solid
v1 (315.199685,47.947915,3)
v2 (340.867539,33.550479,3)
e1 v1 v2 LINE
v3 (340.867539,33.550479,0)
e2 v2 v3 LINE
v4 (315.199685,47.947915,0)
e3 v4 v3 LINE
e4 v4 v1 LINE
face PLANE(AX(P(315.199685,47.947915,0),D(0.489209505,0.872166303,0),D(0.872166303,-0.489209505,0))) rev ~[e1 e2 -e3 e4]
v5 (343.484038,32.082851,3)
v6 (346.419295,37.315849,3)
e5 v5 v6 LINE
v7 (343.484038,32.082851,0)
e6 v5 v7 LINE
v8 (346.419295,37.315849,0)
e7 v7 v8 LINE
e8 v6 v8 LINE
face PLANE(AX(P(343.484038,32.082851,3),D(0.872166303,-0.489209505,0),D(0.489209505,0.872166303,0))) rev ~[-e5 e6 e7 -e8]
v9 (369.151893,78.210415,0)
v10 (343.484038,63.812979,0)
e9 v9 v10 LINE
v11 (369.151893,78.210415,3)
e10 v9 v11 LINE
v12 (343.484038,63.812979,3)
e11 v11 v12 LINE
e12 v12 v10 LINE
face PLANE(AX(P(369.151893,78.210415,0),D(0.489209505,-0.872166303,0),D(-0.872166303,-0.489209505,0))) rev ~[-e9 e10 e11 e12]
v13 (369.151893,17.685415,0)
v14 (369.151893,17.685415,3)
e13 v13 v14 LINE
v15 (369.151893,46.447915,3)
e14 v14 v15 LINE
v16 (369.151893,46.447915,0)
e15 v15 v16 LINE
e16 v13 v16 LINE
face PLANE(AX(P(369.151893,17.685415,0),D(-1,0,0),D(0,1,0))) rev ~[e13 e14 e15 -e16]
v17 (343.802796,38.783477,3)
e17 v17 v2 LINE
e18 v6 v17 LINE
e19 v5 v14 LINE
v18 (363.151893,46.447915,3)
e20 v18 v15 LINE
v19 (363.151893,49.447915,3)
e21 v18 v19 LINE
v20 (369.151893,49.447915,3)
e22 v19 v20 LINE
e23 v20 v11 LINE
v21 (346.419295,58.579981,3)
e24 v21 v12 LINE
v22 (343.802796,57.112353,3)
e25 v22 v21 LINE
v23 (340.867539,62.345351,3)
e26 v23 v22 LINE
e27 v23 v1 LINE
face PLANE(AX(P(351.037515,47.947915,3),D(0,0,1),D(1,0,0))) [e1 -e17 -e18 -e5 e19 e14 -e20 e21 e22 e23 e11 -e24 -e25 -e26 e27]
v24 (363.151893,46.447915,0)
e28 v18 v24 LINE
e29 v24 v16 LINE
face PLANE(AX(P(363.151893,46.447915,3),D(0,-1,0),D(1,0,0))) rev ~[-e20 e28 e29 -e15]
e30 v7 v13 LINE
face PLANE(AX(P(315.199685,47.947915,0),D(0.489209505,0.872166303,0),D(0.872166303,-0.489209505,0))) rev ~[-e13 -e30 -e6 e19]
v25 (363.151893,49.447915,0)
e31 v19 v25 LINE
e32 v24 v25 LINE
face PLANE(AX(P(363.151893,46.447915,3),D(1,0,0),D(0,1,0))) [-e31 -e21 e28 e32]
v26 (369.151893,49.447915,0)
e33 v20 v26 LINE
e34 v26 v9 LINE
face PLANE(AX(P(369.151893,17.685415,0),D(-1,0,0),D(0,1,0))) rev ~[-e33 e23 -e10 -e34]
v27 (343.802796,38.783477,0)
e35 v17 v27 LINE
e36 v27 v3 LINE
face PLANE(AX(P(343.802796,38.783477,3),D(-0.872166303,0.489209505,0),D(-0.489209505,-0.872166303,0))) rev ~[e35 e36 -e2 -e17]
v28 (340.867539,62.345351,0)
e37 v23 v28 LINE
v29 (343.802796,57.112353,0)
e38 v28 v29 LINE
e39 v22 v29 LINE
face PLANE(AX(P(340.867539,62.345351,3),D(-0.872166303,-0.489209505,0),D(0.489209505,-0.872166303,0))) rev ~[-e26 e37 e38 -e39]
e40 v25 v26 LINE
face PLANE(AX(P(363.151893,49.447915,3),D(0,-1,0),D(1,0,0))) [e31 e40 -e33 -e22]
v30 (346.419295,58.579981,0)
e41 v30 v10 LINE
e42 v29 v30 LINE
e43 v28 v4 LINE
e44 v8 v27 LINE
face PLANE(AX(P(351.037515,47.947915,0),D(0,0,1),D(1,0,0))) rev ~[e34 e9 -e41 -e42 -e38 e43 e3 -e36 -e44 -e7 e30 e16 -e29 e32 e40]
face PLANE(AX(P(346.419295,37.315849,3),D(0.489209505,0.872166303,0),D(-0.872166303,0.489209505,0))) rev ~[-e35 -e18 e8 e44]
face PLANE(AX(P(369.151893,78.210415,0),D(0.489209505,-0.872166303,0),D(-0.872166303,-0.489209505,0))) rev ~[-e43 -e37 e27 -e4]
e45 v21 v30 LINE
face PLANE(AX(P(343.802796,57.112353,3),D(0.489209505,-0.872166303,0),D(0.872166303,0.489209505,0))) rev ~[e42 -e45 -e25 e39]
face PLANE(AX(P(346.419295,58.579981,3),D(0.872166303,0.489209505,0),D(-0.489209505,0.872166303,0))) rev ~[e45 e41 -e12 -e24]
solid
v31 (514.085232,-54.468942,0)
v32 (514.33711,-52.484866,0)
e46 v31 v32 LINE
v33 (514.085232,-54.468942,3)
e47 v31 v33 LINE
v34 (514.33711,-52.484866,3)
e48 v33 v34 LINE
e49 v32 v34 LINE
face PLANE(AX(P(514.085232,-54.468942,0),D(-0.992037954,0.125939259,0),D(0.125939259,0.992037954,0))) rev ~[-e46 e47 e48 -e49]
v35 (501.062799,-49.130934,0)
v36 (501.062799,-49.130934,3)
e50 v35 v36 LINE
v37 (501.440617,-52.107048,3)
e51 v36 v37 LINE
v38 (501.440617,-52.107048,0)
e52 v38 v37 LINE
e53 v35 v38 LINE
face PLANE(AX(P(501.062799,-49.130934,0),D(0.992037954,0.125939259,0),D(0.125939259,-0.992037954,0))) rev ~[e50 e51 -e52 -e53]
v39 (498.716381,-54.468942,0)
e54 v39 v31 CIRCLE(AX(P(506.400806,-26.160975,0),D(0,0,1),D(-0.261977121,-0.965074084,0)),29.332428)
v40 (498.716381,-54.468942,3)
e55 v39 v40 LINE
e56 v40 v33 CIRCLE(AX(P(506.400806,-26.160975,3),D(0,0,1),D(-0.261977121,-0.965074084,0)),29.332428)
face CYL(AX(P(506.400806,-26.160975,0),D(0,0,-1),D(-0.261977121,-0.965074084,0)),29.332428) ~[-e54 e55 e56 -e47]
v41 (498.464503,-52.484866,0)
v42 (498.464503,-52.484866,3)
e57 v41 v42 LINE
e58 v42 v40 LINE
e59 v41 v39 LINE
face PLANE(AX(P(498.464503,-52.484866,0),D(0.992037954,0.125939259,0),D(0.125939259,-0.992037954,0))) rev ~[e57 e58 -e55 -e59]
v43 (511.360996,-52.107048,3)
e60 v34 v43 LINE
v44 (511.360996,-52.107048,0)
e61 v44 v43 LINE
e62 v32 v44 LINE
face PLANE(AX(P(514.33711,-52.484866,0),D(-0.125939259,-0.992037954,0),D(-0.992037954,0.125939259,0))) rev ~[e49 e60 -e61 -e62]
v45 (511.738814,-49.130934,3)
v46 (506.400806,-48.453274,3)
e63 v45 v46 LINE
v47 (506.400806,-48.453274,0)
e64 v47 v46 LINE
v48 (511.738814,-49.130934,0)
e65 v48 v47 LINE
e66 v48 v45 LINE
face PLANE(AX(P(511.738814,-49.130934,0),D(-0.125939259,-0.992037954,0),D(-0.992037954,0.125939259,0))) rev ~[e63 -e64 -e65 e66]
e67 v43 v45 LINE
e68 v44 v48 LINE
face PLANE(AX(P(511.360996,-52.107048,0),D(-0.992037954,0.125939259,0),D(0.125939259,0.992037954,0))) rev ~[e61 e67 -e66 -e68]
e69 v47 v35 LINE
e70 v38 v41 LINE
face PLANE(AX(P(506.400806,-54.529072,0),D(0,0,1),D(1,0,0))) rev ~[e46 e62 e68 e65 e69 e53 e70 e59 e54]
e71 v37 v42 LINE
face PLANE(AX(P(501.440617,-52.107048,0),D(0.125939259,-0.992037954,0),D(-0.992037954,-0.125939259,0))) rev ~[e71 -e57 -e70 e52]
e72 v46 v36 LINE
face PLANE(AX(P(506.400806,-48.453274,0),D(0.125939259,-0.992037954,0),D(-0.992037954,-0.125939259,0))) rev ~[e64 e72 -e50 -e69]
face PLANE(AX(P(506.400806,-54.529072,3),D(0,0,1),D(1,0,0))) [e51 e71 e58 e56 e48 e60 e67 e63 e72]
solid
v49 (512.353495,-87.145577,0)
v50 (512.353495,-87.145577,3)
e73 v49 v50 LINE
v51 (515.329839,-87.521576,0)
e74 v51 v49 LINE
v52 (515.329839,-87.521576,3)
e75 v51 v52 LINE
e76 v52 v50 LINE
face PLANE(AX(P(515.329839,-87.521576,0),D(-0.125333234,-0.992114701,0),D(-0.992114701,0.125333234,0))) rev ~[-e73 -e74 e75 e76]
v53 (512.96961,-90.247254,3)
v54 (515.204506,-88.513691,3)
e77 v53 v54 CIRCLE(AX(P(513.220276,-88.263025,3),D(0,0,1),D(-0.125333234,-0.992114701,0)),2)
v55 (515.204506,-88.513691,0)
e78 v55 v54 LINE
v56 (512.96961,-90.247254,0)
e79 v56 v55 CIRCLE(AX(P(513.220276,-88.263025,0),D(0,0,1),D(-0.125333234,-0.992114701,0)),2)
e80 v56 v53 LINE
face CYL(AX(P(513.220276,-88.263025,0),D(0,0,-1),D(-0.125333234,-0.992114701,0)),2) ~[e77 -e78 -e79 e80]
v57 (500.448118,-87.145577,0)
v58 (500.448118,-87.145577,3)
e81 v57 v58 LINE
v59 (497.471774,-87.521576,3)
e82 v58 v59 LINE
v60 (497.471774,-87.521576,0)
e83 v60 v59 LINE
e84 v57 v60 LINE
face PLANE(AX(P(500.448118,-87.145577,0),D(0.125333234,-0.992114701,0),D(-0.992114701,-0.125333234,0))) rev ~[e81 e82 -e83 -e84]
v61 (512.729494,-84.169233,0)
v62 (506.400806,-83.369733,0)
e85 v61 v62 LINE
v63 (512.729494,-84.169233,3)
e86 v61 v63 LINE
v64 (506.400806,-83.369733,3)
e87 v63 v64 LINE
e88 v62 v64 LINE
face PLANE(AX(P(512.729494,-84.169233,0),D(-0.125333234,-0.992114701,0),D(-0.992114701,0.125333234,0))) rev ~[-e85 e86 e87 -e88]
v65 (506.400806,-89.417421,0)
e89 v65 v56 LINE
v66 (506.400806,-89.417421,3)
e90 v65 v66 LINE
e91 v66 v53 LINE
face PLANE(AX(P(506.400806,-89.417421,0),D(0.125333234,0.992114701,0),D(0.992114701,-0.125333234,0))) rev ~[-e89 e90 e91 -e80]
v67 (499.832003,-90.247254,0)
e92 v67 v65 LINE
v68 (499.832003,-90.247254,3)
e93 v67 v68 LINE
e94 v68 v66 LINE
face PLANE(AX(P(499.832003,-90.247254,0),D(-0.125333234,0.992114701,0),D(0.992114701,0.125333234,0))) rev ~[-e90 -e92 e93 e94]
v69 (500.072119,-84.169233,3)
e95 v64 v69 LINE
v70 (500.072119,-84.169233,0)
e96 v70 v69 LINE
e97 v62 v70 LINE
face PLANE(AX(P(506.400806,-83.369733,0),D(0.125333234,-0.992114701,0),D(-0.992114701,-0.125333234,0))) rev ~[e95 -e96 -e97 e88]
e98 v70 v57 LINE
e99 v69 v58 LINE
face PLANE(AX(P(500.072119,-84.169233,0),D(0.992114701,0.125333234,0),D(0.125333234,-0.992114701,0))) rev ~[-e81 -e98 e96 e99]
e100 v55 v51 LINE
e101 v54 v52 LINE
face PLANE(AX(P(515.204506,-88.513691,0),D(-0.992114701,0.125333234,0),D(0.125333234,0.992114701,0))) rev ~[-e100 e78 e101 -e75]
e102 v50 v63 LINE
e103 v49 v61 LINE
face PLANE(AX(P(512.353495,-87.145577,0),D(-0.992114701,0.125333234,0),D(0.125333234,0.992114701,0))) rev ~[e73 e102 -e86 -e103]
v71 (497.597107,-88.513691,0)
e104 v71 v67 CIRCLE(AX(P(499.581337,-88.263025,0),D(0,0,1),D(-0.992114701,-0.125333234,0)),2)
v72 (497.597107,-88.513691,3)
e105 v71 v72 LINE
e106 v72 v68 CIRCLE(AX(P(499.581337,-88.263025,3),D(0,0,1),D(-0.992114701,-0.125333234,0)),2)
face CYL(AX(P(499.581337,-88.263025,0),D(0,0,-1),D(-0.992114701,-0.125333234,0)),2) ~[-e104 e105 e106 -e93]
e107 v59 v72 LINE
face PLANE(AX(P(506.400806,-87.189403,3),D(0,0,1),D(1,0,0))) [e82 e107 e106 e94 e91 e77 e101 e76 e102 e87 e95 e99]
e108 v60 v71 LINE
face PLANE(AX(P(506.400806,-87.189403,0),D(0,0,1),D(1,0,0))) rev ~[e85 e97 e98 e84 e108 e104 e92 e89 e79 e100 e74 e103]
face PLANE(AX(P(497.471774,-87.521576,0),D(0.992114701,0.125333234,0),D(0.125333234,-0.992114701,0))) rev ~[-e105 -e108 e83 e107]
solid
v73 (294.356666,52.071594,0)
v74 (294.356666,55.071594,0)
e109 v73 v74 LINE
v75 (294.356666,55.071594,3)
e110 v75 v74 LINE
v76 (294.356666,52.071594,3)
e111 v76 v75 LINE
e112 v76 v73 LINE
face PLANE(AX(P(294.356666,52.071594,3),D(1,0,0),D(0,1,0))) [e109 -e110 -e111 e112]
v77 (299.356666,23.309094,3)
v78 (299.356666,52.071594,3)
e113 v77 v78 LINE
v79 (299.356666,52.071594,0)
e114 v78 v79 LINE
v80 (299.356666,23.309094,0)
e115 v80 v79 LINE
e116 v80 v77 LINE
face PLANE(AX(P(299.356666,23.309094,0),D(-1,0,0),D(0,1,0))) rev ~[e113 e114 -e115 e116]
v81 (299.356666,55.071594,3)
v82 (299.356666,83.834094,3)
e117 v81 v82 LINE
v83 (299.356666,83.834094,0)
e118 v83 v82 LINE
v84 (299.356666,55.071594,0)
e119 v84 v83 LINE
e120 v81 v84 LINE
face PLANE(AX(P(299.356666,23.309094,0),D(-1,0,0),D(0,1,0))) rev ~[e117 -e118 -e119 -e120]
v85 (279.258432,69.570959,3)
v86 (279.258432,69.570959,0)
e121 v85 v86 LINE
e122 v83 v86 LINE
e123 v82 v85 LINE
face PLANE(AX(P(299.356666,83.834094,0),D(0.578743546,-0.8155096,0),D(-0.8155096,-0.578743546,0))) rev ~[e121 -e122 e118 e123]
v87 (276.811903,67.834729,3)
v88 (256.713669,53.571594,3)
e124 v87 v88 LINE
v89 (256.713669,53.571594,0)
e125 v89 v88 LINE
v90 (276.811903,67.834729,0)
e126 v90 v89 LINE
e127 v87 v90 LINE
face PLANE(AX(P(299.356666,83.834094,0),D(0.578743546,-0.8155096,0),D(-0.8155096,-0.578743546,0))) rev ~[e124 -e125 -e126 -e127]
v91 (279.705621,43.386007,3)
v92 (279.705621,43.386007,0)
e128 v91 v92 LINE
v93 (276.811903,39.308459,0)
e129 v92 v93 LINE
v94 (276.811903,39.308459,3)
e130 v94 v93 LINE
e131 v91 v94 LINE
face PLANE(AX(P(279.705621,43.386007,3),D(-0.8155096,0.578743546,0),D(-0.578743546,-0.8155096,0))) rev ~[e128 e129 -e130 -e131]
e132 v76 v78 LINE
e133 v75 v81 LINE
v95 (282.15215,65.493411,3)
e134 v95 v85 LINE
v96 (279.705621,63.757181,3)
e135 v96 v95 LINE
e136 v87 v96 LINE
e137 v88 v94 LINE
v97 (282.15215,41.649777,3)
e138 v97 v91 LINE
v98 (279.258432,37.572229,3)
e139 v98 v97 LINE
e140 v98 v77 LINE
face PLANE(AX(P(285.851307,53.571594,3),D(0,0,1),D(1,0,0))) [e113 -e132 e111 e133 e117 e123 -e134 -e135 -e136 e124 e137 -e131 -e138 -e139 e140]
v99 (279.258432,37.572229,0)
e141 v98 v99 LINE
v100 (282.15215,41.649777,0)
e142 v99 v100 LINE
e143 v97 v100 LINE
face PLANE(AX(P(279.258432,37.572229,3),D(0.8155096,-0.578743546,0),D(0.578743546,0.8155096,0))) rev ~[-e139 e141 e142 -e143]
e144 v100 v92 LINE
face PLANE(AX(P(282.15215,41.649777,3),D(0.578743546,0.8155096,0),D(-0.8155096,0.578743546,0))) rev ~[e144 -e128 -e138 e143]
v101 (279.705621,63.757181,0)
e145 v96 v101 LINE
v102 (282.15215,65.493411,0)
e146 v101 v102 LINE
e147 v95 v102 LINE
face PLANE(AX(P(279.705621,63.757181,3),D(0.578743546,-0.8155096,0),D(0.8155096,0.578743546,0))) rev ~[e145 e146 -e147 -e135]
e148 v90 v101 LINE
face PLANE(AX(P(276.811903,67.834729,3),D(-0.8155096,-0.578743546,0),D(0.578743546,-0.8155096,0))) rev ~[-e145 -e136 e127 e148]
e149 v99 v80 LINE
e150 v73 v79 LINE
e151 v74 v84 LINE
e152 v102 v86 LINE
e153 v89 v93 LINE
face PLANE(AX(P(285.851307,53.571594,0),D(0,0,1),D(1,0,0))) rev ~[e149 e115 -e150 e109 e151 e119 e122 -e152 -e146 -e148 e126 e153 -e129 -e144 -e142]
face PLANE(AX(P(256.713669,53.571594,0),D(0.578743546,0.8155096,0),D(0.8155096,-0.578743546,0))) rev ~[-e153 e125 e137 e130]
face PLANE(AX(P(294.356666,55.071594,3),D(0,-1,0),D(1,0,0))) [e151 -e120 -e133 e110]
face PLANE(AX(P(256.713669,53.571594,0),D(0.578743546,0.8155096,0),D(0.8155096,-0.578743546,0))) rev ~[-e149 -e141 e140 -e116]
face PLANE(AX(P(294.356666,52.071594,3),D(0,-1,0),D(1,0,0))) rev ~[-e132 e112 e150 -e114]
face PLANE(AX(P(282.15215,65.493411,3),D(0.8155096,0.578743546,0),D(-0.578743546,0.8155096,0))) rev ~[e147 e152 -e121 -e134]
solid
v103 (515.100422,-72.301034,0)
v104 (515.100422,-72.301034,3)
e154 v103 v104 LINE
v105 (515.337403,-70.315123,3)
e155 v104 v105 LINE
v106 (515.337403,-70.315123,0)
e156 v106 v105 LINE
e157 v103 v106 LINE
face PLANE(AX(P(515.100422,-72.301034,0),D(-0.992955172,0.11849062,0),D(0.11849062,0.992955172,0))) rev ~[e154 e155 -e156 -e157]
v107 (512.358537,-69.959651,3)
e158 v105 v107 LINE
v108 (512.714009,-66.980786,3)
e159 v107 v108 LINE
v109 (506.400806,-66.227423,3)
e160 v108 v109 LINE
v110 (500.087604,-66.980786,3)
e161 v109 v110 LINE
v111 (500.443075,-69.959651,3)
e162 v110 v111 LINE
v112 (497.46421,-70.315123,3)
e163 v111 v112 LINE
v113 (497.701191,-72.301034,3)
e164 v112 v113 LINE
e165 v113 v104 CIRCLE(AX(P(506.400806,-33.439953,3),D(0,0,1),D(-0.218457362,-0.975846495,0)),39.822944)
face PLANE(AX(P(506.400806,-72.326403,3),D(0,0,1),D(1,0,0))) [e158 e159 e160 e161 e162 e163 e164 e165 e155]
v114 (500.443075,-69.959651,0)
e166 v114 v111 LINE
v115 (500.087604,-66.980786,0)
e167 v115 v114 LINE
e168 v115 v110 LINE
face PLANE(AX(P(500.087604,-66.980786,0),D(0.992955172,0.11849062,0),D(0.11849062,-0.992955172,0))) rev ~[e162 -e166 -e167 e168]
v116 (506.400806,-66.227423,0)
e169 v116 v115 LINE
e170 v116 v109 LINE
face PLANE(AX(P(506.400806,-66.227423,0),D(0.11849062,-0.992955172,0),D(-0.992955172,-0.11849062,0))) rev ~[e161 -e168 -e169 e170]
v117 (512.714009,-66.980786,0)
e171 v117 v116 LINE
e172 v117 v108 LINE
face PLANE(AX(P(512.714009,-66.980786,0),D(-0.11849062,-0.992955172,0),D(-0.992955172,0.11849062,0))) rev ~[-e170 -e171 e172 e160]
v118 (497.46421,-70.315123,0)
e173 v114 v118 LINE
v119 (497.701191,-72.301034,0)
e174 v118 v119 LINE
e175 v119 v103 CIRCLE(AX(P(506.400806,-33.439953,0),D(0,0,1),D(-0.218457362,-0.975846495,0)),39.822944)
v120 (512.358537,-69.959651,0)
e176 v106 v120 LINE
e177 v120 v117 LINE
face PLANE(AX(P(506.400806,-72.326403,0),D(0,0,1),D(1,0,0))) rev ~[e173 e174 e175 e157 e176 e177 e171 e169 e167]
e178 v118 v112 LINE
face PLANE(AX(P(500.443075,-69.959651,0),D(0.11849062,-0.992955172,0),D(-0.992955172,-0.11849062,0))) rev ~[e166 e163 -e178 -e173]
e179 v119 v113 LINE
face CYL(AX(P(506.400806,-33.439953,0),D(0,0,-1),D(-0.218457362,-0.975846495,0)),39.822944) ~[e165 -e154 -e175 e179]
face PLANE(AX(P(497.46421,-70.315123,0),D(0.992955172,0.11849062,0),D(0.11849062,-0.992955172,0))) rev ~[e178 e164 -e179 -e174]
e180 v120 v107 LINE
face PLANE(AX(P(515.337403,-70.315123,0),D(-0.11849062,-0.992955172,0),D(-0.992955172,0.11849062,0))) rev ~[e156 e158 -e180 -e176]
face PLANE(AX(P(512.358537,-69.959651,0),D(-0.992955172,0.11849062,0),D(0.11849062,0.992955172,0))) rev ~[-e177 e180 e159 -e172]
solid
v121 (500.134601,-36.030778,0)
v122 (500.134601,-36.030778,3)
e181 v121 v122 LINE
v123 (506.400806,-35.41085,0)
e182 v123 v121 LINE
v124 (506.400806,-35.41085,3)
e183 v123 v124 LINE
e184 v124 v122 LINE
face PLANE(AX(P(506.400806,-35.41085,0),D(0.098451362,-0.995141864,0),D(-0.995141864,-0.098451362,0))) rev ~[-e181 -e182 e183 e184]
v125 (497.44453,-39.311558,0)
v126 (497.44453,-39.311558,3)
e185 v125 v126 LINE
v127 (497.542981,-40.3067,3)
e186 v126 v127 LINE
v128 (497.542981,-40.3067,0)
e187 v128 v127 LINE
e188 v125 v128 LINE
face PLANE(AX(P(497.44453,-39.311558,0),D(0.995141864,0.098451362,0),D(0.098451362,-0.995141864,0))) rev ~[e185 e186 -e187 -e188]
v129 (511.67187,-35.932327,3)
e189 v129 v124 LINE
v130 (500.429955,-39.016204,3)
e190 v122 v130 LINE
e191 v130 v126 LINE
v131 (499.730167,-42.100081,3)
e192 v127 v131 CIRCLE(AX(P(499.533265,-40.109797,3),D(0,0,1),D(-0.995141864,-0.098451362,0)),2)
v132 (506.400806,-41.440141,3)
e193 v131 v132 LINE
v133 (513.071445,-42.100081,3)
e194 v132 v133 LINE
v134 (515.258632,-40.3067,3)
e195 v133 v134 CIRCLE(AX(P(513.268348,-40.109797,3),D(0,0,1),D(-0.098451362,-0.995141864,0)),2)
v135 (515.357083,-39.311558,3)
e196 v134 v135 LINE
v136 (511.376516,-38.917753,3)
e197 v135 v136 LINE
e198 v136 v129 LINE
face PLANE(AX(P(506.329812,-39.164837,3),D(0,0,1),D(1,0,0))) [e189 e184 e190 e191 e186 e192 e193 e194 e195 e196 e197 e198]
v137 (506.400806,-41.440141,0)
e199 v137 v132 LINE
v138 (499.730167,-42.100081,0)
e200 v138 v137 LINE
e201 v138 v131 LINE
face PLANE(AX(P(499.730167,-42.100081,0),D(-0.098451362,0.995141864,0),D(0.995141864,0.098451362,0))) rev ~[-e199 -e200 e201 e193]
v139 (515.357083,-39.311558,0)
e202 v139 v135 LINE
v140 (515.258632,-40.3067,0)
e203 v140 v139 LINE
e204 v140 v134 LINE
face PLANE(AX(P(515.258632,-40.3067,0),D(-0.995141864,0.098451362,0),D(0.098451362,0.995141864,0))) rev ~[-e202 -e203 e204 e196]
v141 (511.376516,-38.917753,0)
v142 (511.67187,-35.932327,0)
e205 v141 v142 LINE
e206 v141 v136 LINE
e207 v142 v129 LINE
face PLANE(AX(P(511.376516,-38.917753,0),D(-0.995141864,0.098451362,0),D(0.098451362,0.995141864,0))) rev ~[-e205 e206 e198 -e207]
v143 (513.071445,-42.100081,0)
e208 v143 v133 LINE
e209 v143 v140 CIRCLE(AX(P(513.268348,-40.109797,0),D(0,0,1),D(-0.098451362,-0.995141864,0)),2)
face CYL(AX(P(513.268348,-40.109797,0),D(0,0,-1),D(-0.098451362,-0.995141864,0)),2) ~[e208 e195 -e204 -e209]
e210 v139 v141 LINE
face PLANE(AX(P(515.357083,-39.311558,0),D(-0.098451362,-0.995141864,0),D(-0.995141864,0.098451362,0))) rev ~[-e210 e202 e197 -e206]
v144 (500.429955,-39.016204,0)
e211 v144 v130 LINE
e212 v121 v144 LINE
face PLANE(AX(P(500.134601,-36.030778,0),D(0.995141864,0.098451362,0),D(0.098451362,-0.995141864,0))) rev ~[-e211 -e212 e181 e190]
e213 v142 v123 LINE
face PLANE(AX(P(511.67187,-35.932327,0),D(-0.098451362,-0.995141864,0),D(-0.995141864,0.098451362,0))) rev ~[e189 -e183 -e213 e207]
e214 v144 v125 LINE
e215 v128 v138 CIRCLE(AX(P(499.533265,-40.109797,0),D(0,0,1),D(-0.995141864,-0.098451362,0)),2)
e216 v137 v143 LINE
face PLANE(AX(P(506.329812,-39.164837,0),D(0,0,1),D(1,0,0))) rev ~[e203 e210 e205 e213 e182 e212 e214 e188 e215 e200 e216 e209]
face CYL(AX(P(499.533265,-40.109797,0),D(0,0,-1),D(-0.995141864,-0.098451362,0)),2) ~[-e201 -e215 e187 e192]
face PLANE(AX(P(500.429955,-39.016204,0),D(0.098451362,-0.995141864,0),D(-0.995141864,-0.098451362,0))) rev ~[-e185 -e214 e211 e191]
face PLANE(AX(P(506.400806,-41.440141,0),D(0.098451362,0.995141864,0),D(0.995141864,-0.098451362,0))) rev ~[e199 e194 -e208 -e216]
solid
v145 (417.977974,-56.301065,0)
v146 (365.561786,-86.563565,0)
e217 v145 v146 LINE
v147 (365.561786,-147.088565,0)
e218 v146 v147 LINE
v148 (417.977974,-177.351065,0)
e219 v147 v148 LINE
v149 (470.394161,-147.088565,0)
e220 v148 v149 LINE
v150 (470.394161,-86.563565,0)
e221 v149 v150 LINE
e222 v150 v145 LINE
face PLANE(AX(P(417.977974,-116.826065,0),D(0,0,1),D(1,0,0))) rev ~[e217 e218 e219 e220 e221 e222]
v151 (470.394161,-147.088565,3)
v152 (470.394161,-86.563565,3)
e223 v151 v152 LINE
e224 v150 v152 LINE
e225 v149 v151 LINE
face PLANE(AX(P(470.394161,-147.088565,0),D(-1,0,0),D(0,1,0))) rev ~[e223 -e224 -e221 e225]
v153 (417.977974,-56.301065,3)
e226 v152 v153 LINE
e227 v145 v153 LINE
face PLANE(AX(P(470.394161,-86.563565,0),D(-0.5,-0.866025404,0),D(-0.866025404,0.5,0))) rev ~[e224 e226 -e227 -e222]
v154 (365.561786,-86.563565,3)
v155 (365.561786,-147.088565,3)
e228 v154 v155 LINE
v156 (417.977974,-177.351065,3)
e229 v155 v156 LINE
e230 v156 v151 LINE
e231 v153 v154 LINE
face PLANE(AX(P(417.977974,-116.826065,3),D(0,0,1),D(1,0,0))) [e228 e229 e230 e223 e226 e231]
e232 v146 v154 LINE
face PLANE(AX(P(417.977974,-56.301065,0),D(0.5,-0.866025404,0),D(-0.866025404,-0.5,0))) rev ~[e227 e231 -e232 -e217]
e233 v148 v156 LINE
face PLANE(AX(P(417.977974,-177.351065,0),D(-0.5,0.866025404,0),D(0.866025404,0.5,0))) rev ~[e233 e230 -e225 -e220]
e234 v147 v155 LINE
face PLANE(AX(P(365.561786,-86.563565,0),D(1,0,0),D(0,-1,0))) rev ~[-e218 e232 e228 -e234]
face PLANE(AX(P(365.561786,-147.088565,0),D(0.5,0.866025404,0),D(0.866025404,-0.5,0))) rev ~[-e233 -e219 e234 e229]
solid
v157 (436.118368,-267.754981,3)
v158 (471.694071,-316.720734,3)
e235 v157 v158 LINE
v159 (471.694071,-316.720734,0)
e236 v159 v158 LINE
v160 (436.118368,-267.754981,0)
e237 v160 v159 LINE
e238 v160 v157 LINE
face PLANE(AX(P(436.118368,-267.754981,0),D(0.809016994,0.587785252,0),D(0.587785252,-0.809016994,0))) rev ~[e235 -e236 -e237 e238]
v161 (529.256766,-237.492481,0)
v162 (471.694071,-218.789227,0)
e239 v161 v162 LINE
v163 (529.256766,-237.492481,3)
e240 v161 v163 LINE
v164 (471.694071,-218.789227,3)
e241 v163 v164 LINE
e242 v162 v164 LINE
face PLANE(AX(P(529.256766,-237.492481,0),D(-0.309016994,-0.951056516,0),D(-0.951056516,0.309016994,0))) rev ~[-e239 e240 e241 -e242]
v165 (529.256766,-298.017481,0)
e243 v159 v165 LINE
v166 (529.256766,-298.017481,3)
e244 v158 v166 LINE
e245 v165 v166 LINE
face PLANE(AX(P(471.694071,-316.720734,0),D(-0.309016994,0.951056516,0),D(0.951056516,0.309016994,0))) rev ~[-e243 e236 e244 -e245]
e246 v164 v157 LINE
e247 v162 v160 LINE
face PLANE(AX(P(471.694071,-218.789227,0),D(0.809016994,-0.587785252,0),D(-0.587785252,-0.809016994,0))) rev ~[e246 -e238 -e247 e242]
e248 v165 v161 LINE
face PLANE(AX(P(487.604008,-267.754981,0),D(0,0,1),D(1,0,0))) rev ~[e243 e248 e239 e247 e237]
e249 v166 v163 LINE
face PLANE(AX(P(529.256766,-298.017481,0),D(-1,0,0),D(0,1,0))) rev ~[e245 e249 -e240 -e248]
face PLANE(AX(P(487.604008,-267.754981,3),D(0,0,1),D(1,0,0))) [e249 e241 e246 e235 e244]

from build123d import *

# Parameters (mm, degrees)
F4_DEPTH = 3
F5_W     = 5
F5_H     = 3
F5_W_2   = 6
F6_DEPTH = 25


with BuildPart() as f4:
    # F3 (on Top) → F4 (new body)
    with BuildSketch(Plane.XY):
        Polygon((470.3941613828, -147.0885653714), (470.3941613828, -86.5635653714), (417.9779738188, -56.3010653714), (365.5617862547, -86.5635653714), (365.5617862547, -147.0885653714), (417.9779738188, -177.3510653714), align=None)
    extrude(amount=F4_DEPTH)


with BuildPart() as f4b:
    # F3 (on Top) → F4, piece 2 (new body)
    with BuildSketch(Plane.XY):
        Polygon((529.2567662146, -298.0174807028), (529.2567662146, -237.4924807028), (471.6940705658, -218.7892271182), (436.1183681708, -267.7549807028), (471.6940705658, -316.7207342873), align=None)
    extrude(amount=F4_DEPTH)


with BuildPart() as f4c:
    # F3 (on Top) → F4, piece 3 (new body)
    with BuildSketch(Plane.XY):
        Polygon((256.7136692096, 53.5715939384), (299.3566662168, 23.3090939384), (299.3566662168, 83.8340939384), align=None)
    extrude(amount=F4_DEPTH)


with BuildPart() as f4d:
    # F3 (on Top) → F4, piece 4 (new body)
    with BuildSketch(Plane.XY):
        Polygon((369.1518926518, 17.6854150152), (369.1518926518, 78.2104150152), (315.1996851552, 47.9479150152), align=None)
    extrude(amount=F4_DEPTH)


with BuildPart() as f4e:
    # F3 (on Top) → F4, piece 5 (new body)
    with BuildSketch(Plane.XY):
        with BuildLine():
            Line((499.7301674728, -42.1000808495), (506.4008064333, -41.4401412806))
            Line((506.4008064333, -41.4401412806), (513.0714453939, -42.1000808495))
            ThreePointArc((513.0714453939, -42.1000808495), (514.536459987, -41.6563714939), (515.2586318461, -40.3066998462))
            Line((515.2586318461, -40.3066998462), (515.3570832084, -39.3115579823))
            Line((515.3570832084, -39.3115579823), (511.3765157528, -38.9177525334))
            Line((511.3765157528, -38.9177525334), (511.6718698395, -35.9323269417))
            Line((511.6718698395, -35.9323269417), (506.4008064333, -35.4108501637))
            Line((506.4008064333, -35.4108501637), (500.1346011633, -36.0307783039))
            Line((500.1346011633, -36.0307783039), (500.42995525, -39.0162038956))
            Line((500.42995525, -39.0162038956), (497.4445296583, -39.3115579823))
            Line((497.4445296583, -39.3115579823), (497.5429810205, -40.3066998462))
            ThreePointArc((497.5429810205, -40.3066998462), (498.2651528796, -41.6563714939), (499.7301674728, -42.1000808495))
        make_face()
    extrude(amount=F4_DEPTH)


with BuildPart() as f4f:
    # F3 (on Top) → F4, piece 6 (new body)
    with BuildSketch(Plane.XY):
        with BuildLine():
            Line((514.0852315523, -54.4689418778), (506.4008064333, -53.4934037976))
            Line((506.4008064333, -53.4934037976), (498.7163813144, -54.4689418778))
            ThreePointArc((498.7163813144, -54.4689418778), (506.4008064333, -55.4934037976), (514.0852315523, -54.4689418778))
        make_face()
        Polygon((498.7163813144, -54.4689418778), (506.4008064333, -53.4934037976), (514.0852315523, -54.4689418778), (514.3371100693, -52.4848659688), (511.3609962058, -52.1070481933), (511.7388139814, -49.1309343298), (506.4008064333, -48.4532740552), (501.0627988853, -49.1309343298), (501.4406166609, -52.1070481933), (498.4645027974, -52.4848659688), align=None)
    extrude(amount=F4_DEPTH)


with BuildPart() as f4g:
    # F3 (on Top) → F4, piece 7 (new body)
    with BuildSketch(Plane.XY):
        with BuildLine():
            Line((515.1004217371, -72.3010336354), (506.4008064333, -71.2628973283))
            Line((506.4008064333, -71.2628973283), (497.7011911296, -72.3010336354))
            ThreePointArc((497.7011911296, -72.3010336354), (506.4008064333, -73.2628973283), (515.1004217371, -72.3010336354))
        make_face()
        Polygon((497.7011911296, -72.3010336354), (506.4008064333, -71.2628973283), (515.1004217371, -72.3010336354), (515.337402978, -70.3151232921), (512.3585374631, -69.9596514308), (512.7140093245, -66.9807859159), (506.4008064333, -66.2274232779), (500.0876035422, -66.9807859159), (500.4430754036, -69.9596514308), (497.4642098887, -70.3151232921), align=None)
    extrude(amount=F4_DEPTH)


with BuildPart() as f4h:
    # F3 (on Top) → F4, piece 8 (new body)
    with BuildSketch(Plane.XY):
        with BuildLine():
            Line((499.8320032248, -90.2472541053), (506.4008064333, -89.4174212789))
            Line((506.4008064333, -89.4174212789), (512.9696096418, -90.2472541053))
            ThreePointArc((512.9696096418, -90.2472541053), (514.4460902163, -89.8433347274), (515.2045055116, -88.5136911698))
            Line((515.2045055116, -88.5136911698), (515.3298387452, -87.5215764685))
            Line((515.3298387452, -87.5215764685), (512.3534946412, -87.1455767678))
            Line((512.3534946412, -87.1455767678), (512.7294943419, -84.1692326639))
            Line((512.7294943419, -84.1692326639), (506.4008064333, -83.369733454))
            Line((506.4008064333, -83.369733454), (500.0721185248, -84.1692326639))
            Line((500.0721185248, -84.1692326639), (500.4481182255, -87.1455767678))
            Line((500.4481182255, -87.1455767678), (497.4717741215, -87.5215764685))
            Line((497.4717741215, -87.5215764685), (497.5971073551, -88.5136911698))
            ThreePointArc((497.5971073551, -88.5136911698), (498.3555226504, -89.8433347274), (499.8320032248, -90.2472541053))
        make_face()
    extrude(amount=F4_DEPTH)


with BuildPart() as f6_tool:
    # F5 (on face) → F6 (new body)
    with BuildSketch(Plane.XY.offset(3)):
        with Locations((296.8566662168, 53.5715939384)):
            Rectangle(F5_W, F5_H)
        Polygon((282.1521498419, 65.4934112546), (279.2584321139, 69.5709592568), (276.8119033125, 67.83472862), (279.7056210406, 63.7571806178), align=None)
        Polygon((279.7056210406, 43.386007259), (276.8119033125, 39.3084592568), (279.2584321139, 37.57222862), (282.1521498419, 41.6497766222), align=None)
        with Locations((366.1518926518, 47.9479150152)):
            Rectangle(F5_W_2, F5_H)
        Polygon((346.4192953898, 58.5799814559), (343.4840383578, 63.8129792732), (340.8675394492, 62.3453507572), (343.8027964812, 57.1123529399), align=None)
        Polygon((343.8027964812, 38.7834770905), (340.8675394492, 33.5504792732), (343.4840383578, 32.0828507572), (346.4192953898, 37.3158485745), align=None)
    extrude(amount=-F6_DEPTH)


with BuildPart() as f4c_1:
    add(f4c.part)

    # F6: cut by f6_tool
    add(f6_tool.part, mode=Mode.SUBTRACT)


with BuildPart() as f4d_1:
    add(f4d.part)

    # F6: cut by f6_tool
    add(f6_tool.part, mode=Mode.SUBTRACT)


solid = Compound([f4.part, f4b.part, f4e.part, f4f.part, f4g.part, f4h.part, f4c_1.part, f4d_1.part])
